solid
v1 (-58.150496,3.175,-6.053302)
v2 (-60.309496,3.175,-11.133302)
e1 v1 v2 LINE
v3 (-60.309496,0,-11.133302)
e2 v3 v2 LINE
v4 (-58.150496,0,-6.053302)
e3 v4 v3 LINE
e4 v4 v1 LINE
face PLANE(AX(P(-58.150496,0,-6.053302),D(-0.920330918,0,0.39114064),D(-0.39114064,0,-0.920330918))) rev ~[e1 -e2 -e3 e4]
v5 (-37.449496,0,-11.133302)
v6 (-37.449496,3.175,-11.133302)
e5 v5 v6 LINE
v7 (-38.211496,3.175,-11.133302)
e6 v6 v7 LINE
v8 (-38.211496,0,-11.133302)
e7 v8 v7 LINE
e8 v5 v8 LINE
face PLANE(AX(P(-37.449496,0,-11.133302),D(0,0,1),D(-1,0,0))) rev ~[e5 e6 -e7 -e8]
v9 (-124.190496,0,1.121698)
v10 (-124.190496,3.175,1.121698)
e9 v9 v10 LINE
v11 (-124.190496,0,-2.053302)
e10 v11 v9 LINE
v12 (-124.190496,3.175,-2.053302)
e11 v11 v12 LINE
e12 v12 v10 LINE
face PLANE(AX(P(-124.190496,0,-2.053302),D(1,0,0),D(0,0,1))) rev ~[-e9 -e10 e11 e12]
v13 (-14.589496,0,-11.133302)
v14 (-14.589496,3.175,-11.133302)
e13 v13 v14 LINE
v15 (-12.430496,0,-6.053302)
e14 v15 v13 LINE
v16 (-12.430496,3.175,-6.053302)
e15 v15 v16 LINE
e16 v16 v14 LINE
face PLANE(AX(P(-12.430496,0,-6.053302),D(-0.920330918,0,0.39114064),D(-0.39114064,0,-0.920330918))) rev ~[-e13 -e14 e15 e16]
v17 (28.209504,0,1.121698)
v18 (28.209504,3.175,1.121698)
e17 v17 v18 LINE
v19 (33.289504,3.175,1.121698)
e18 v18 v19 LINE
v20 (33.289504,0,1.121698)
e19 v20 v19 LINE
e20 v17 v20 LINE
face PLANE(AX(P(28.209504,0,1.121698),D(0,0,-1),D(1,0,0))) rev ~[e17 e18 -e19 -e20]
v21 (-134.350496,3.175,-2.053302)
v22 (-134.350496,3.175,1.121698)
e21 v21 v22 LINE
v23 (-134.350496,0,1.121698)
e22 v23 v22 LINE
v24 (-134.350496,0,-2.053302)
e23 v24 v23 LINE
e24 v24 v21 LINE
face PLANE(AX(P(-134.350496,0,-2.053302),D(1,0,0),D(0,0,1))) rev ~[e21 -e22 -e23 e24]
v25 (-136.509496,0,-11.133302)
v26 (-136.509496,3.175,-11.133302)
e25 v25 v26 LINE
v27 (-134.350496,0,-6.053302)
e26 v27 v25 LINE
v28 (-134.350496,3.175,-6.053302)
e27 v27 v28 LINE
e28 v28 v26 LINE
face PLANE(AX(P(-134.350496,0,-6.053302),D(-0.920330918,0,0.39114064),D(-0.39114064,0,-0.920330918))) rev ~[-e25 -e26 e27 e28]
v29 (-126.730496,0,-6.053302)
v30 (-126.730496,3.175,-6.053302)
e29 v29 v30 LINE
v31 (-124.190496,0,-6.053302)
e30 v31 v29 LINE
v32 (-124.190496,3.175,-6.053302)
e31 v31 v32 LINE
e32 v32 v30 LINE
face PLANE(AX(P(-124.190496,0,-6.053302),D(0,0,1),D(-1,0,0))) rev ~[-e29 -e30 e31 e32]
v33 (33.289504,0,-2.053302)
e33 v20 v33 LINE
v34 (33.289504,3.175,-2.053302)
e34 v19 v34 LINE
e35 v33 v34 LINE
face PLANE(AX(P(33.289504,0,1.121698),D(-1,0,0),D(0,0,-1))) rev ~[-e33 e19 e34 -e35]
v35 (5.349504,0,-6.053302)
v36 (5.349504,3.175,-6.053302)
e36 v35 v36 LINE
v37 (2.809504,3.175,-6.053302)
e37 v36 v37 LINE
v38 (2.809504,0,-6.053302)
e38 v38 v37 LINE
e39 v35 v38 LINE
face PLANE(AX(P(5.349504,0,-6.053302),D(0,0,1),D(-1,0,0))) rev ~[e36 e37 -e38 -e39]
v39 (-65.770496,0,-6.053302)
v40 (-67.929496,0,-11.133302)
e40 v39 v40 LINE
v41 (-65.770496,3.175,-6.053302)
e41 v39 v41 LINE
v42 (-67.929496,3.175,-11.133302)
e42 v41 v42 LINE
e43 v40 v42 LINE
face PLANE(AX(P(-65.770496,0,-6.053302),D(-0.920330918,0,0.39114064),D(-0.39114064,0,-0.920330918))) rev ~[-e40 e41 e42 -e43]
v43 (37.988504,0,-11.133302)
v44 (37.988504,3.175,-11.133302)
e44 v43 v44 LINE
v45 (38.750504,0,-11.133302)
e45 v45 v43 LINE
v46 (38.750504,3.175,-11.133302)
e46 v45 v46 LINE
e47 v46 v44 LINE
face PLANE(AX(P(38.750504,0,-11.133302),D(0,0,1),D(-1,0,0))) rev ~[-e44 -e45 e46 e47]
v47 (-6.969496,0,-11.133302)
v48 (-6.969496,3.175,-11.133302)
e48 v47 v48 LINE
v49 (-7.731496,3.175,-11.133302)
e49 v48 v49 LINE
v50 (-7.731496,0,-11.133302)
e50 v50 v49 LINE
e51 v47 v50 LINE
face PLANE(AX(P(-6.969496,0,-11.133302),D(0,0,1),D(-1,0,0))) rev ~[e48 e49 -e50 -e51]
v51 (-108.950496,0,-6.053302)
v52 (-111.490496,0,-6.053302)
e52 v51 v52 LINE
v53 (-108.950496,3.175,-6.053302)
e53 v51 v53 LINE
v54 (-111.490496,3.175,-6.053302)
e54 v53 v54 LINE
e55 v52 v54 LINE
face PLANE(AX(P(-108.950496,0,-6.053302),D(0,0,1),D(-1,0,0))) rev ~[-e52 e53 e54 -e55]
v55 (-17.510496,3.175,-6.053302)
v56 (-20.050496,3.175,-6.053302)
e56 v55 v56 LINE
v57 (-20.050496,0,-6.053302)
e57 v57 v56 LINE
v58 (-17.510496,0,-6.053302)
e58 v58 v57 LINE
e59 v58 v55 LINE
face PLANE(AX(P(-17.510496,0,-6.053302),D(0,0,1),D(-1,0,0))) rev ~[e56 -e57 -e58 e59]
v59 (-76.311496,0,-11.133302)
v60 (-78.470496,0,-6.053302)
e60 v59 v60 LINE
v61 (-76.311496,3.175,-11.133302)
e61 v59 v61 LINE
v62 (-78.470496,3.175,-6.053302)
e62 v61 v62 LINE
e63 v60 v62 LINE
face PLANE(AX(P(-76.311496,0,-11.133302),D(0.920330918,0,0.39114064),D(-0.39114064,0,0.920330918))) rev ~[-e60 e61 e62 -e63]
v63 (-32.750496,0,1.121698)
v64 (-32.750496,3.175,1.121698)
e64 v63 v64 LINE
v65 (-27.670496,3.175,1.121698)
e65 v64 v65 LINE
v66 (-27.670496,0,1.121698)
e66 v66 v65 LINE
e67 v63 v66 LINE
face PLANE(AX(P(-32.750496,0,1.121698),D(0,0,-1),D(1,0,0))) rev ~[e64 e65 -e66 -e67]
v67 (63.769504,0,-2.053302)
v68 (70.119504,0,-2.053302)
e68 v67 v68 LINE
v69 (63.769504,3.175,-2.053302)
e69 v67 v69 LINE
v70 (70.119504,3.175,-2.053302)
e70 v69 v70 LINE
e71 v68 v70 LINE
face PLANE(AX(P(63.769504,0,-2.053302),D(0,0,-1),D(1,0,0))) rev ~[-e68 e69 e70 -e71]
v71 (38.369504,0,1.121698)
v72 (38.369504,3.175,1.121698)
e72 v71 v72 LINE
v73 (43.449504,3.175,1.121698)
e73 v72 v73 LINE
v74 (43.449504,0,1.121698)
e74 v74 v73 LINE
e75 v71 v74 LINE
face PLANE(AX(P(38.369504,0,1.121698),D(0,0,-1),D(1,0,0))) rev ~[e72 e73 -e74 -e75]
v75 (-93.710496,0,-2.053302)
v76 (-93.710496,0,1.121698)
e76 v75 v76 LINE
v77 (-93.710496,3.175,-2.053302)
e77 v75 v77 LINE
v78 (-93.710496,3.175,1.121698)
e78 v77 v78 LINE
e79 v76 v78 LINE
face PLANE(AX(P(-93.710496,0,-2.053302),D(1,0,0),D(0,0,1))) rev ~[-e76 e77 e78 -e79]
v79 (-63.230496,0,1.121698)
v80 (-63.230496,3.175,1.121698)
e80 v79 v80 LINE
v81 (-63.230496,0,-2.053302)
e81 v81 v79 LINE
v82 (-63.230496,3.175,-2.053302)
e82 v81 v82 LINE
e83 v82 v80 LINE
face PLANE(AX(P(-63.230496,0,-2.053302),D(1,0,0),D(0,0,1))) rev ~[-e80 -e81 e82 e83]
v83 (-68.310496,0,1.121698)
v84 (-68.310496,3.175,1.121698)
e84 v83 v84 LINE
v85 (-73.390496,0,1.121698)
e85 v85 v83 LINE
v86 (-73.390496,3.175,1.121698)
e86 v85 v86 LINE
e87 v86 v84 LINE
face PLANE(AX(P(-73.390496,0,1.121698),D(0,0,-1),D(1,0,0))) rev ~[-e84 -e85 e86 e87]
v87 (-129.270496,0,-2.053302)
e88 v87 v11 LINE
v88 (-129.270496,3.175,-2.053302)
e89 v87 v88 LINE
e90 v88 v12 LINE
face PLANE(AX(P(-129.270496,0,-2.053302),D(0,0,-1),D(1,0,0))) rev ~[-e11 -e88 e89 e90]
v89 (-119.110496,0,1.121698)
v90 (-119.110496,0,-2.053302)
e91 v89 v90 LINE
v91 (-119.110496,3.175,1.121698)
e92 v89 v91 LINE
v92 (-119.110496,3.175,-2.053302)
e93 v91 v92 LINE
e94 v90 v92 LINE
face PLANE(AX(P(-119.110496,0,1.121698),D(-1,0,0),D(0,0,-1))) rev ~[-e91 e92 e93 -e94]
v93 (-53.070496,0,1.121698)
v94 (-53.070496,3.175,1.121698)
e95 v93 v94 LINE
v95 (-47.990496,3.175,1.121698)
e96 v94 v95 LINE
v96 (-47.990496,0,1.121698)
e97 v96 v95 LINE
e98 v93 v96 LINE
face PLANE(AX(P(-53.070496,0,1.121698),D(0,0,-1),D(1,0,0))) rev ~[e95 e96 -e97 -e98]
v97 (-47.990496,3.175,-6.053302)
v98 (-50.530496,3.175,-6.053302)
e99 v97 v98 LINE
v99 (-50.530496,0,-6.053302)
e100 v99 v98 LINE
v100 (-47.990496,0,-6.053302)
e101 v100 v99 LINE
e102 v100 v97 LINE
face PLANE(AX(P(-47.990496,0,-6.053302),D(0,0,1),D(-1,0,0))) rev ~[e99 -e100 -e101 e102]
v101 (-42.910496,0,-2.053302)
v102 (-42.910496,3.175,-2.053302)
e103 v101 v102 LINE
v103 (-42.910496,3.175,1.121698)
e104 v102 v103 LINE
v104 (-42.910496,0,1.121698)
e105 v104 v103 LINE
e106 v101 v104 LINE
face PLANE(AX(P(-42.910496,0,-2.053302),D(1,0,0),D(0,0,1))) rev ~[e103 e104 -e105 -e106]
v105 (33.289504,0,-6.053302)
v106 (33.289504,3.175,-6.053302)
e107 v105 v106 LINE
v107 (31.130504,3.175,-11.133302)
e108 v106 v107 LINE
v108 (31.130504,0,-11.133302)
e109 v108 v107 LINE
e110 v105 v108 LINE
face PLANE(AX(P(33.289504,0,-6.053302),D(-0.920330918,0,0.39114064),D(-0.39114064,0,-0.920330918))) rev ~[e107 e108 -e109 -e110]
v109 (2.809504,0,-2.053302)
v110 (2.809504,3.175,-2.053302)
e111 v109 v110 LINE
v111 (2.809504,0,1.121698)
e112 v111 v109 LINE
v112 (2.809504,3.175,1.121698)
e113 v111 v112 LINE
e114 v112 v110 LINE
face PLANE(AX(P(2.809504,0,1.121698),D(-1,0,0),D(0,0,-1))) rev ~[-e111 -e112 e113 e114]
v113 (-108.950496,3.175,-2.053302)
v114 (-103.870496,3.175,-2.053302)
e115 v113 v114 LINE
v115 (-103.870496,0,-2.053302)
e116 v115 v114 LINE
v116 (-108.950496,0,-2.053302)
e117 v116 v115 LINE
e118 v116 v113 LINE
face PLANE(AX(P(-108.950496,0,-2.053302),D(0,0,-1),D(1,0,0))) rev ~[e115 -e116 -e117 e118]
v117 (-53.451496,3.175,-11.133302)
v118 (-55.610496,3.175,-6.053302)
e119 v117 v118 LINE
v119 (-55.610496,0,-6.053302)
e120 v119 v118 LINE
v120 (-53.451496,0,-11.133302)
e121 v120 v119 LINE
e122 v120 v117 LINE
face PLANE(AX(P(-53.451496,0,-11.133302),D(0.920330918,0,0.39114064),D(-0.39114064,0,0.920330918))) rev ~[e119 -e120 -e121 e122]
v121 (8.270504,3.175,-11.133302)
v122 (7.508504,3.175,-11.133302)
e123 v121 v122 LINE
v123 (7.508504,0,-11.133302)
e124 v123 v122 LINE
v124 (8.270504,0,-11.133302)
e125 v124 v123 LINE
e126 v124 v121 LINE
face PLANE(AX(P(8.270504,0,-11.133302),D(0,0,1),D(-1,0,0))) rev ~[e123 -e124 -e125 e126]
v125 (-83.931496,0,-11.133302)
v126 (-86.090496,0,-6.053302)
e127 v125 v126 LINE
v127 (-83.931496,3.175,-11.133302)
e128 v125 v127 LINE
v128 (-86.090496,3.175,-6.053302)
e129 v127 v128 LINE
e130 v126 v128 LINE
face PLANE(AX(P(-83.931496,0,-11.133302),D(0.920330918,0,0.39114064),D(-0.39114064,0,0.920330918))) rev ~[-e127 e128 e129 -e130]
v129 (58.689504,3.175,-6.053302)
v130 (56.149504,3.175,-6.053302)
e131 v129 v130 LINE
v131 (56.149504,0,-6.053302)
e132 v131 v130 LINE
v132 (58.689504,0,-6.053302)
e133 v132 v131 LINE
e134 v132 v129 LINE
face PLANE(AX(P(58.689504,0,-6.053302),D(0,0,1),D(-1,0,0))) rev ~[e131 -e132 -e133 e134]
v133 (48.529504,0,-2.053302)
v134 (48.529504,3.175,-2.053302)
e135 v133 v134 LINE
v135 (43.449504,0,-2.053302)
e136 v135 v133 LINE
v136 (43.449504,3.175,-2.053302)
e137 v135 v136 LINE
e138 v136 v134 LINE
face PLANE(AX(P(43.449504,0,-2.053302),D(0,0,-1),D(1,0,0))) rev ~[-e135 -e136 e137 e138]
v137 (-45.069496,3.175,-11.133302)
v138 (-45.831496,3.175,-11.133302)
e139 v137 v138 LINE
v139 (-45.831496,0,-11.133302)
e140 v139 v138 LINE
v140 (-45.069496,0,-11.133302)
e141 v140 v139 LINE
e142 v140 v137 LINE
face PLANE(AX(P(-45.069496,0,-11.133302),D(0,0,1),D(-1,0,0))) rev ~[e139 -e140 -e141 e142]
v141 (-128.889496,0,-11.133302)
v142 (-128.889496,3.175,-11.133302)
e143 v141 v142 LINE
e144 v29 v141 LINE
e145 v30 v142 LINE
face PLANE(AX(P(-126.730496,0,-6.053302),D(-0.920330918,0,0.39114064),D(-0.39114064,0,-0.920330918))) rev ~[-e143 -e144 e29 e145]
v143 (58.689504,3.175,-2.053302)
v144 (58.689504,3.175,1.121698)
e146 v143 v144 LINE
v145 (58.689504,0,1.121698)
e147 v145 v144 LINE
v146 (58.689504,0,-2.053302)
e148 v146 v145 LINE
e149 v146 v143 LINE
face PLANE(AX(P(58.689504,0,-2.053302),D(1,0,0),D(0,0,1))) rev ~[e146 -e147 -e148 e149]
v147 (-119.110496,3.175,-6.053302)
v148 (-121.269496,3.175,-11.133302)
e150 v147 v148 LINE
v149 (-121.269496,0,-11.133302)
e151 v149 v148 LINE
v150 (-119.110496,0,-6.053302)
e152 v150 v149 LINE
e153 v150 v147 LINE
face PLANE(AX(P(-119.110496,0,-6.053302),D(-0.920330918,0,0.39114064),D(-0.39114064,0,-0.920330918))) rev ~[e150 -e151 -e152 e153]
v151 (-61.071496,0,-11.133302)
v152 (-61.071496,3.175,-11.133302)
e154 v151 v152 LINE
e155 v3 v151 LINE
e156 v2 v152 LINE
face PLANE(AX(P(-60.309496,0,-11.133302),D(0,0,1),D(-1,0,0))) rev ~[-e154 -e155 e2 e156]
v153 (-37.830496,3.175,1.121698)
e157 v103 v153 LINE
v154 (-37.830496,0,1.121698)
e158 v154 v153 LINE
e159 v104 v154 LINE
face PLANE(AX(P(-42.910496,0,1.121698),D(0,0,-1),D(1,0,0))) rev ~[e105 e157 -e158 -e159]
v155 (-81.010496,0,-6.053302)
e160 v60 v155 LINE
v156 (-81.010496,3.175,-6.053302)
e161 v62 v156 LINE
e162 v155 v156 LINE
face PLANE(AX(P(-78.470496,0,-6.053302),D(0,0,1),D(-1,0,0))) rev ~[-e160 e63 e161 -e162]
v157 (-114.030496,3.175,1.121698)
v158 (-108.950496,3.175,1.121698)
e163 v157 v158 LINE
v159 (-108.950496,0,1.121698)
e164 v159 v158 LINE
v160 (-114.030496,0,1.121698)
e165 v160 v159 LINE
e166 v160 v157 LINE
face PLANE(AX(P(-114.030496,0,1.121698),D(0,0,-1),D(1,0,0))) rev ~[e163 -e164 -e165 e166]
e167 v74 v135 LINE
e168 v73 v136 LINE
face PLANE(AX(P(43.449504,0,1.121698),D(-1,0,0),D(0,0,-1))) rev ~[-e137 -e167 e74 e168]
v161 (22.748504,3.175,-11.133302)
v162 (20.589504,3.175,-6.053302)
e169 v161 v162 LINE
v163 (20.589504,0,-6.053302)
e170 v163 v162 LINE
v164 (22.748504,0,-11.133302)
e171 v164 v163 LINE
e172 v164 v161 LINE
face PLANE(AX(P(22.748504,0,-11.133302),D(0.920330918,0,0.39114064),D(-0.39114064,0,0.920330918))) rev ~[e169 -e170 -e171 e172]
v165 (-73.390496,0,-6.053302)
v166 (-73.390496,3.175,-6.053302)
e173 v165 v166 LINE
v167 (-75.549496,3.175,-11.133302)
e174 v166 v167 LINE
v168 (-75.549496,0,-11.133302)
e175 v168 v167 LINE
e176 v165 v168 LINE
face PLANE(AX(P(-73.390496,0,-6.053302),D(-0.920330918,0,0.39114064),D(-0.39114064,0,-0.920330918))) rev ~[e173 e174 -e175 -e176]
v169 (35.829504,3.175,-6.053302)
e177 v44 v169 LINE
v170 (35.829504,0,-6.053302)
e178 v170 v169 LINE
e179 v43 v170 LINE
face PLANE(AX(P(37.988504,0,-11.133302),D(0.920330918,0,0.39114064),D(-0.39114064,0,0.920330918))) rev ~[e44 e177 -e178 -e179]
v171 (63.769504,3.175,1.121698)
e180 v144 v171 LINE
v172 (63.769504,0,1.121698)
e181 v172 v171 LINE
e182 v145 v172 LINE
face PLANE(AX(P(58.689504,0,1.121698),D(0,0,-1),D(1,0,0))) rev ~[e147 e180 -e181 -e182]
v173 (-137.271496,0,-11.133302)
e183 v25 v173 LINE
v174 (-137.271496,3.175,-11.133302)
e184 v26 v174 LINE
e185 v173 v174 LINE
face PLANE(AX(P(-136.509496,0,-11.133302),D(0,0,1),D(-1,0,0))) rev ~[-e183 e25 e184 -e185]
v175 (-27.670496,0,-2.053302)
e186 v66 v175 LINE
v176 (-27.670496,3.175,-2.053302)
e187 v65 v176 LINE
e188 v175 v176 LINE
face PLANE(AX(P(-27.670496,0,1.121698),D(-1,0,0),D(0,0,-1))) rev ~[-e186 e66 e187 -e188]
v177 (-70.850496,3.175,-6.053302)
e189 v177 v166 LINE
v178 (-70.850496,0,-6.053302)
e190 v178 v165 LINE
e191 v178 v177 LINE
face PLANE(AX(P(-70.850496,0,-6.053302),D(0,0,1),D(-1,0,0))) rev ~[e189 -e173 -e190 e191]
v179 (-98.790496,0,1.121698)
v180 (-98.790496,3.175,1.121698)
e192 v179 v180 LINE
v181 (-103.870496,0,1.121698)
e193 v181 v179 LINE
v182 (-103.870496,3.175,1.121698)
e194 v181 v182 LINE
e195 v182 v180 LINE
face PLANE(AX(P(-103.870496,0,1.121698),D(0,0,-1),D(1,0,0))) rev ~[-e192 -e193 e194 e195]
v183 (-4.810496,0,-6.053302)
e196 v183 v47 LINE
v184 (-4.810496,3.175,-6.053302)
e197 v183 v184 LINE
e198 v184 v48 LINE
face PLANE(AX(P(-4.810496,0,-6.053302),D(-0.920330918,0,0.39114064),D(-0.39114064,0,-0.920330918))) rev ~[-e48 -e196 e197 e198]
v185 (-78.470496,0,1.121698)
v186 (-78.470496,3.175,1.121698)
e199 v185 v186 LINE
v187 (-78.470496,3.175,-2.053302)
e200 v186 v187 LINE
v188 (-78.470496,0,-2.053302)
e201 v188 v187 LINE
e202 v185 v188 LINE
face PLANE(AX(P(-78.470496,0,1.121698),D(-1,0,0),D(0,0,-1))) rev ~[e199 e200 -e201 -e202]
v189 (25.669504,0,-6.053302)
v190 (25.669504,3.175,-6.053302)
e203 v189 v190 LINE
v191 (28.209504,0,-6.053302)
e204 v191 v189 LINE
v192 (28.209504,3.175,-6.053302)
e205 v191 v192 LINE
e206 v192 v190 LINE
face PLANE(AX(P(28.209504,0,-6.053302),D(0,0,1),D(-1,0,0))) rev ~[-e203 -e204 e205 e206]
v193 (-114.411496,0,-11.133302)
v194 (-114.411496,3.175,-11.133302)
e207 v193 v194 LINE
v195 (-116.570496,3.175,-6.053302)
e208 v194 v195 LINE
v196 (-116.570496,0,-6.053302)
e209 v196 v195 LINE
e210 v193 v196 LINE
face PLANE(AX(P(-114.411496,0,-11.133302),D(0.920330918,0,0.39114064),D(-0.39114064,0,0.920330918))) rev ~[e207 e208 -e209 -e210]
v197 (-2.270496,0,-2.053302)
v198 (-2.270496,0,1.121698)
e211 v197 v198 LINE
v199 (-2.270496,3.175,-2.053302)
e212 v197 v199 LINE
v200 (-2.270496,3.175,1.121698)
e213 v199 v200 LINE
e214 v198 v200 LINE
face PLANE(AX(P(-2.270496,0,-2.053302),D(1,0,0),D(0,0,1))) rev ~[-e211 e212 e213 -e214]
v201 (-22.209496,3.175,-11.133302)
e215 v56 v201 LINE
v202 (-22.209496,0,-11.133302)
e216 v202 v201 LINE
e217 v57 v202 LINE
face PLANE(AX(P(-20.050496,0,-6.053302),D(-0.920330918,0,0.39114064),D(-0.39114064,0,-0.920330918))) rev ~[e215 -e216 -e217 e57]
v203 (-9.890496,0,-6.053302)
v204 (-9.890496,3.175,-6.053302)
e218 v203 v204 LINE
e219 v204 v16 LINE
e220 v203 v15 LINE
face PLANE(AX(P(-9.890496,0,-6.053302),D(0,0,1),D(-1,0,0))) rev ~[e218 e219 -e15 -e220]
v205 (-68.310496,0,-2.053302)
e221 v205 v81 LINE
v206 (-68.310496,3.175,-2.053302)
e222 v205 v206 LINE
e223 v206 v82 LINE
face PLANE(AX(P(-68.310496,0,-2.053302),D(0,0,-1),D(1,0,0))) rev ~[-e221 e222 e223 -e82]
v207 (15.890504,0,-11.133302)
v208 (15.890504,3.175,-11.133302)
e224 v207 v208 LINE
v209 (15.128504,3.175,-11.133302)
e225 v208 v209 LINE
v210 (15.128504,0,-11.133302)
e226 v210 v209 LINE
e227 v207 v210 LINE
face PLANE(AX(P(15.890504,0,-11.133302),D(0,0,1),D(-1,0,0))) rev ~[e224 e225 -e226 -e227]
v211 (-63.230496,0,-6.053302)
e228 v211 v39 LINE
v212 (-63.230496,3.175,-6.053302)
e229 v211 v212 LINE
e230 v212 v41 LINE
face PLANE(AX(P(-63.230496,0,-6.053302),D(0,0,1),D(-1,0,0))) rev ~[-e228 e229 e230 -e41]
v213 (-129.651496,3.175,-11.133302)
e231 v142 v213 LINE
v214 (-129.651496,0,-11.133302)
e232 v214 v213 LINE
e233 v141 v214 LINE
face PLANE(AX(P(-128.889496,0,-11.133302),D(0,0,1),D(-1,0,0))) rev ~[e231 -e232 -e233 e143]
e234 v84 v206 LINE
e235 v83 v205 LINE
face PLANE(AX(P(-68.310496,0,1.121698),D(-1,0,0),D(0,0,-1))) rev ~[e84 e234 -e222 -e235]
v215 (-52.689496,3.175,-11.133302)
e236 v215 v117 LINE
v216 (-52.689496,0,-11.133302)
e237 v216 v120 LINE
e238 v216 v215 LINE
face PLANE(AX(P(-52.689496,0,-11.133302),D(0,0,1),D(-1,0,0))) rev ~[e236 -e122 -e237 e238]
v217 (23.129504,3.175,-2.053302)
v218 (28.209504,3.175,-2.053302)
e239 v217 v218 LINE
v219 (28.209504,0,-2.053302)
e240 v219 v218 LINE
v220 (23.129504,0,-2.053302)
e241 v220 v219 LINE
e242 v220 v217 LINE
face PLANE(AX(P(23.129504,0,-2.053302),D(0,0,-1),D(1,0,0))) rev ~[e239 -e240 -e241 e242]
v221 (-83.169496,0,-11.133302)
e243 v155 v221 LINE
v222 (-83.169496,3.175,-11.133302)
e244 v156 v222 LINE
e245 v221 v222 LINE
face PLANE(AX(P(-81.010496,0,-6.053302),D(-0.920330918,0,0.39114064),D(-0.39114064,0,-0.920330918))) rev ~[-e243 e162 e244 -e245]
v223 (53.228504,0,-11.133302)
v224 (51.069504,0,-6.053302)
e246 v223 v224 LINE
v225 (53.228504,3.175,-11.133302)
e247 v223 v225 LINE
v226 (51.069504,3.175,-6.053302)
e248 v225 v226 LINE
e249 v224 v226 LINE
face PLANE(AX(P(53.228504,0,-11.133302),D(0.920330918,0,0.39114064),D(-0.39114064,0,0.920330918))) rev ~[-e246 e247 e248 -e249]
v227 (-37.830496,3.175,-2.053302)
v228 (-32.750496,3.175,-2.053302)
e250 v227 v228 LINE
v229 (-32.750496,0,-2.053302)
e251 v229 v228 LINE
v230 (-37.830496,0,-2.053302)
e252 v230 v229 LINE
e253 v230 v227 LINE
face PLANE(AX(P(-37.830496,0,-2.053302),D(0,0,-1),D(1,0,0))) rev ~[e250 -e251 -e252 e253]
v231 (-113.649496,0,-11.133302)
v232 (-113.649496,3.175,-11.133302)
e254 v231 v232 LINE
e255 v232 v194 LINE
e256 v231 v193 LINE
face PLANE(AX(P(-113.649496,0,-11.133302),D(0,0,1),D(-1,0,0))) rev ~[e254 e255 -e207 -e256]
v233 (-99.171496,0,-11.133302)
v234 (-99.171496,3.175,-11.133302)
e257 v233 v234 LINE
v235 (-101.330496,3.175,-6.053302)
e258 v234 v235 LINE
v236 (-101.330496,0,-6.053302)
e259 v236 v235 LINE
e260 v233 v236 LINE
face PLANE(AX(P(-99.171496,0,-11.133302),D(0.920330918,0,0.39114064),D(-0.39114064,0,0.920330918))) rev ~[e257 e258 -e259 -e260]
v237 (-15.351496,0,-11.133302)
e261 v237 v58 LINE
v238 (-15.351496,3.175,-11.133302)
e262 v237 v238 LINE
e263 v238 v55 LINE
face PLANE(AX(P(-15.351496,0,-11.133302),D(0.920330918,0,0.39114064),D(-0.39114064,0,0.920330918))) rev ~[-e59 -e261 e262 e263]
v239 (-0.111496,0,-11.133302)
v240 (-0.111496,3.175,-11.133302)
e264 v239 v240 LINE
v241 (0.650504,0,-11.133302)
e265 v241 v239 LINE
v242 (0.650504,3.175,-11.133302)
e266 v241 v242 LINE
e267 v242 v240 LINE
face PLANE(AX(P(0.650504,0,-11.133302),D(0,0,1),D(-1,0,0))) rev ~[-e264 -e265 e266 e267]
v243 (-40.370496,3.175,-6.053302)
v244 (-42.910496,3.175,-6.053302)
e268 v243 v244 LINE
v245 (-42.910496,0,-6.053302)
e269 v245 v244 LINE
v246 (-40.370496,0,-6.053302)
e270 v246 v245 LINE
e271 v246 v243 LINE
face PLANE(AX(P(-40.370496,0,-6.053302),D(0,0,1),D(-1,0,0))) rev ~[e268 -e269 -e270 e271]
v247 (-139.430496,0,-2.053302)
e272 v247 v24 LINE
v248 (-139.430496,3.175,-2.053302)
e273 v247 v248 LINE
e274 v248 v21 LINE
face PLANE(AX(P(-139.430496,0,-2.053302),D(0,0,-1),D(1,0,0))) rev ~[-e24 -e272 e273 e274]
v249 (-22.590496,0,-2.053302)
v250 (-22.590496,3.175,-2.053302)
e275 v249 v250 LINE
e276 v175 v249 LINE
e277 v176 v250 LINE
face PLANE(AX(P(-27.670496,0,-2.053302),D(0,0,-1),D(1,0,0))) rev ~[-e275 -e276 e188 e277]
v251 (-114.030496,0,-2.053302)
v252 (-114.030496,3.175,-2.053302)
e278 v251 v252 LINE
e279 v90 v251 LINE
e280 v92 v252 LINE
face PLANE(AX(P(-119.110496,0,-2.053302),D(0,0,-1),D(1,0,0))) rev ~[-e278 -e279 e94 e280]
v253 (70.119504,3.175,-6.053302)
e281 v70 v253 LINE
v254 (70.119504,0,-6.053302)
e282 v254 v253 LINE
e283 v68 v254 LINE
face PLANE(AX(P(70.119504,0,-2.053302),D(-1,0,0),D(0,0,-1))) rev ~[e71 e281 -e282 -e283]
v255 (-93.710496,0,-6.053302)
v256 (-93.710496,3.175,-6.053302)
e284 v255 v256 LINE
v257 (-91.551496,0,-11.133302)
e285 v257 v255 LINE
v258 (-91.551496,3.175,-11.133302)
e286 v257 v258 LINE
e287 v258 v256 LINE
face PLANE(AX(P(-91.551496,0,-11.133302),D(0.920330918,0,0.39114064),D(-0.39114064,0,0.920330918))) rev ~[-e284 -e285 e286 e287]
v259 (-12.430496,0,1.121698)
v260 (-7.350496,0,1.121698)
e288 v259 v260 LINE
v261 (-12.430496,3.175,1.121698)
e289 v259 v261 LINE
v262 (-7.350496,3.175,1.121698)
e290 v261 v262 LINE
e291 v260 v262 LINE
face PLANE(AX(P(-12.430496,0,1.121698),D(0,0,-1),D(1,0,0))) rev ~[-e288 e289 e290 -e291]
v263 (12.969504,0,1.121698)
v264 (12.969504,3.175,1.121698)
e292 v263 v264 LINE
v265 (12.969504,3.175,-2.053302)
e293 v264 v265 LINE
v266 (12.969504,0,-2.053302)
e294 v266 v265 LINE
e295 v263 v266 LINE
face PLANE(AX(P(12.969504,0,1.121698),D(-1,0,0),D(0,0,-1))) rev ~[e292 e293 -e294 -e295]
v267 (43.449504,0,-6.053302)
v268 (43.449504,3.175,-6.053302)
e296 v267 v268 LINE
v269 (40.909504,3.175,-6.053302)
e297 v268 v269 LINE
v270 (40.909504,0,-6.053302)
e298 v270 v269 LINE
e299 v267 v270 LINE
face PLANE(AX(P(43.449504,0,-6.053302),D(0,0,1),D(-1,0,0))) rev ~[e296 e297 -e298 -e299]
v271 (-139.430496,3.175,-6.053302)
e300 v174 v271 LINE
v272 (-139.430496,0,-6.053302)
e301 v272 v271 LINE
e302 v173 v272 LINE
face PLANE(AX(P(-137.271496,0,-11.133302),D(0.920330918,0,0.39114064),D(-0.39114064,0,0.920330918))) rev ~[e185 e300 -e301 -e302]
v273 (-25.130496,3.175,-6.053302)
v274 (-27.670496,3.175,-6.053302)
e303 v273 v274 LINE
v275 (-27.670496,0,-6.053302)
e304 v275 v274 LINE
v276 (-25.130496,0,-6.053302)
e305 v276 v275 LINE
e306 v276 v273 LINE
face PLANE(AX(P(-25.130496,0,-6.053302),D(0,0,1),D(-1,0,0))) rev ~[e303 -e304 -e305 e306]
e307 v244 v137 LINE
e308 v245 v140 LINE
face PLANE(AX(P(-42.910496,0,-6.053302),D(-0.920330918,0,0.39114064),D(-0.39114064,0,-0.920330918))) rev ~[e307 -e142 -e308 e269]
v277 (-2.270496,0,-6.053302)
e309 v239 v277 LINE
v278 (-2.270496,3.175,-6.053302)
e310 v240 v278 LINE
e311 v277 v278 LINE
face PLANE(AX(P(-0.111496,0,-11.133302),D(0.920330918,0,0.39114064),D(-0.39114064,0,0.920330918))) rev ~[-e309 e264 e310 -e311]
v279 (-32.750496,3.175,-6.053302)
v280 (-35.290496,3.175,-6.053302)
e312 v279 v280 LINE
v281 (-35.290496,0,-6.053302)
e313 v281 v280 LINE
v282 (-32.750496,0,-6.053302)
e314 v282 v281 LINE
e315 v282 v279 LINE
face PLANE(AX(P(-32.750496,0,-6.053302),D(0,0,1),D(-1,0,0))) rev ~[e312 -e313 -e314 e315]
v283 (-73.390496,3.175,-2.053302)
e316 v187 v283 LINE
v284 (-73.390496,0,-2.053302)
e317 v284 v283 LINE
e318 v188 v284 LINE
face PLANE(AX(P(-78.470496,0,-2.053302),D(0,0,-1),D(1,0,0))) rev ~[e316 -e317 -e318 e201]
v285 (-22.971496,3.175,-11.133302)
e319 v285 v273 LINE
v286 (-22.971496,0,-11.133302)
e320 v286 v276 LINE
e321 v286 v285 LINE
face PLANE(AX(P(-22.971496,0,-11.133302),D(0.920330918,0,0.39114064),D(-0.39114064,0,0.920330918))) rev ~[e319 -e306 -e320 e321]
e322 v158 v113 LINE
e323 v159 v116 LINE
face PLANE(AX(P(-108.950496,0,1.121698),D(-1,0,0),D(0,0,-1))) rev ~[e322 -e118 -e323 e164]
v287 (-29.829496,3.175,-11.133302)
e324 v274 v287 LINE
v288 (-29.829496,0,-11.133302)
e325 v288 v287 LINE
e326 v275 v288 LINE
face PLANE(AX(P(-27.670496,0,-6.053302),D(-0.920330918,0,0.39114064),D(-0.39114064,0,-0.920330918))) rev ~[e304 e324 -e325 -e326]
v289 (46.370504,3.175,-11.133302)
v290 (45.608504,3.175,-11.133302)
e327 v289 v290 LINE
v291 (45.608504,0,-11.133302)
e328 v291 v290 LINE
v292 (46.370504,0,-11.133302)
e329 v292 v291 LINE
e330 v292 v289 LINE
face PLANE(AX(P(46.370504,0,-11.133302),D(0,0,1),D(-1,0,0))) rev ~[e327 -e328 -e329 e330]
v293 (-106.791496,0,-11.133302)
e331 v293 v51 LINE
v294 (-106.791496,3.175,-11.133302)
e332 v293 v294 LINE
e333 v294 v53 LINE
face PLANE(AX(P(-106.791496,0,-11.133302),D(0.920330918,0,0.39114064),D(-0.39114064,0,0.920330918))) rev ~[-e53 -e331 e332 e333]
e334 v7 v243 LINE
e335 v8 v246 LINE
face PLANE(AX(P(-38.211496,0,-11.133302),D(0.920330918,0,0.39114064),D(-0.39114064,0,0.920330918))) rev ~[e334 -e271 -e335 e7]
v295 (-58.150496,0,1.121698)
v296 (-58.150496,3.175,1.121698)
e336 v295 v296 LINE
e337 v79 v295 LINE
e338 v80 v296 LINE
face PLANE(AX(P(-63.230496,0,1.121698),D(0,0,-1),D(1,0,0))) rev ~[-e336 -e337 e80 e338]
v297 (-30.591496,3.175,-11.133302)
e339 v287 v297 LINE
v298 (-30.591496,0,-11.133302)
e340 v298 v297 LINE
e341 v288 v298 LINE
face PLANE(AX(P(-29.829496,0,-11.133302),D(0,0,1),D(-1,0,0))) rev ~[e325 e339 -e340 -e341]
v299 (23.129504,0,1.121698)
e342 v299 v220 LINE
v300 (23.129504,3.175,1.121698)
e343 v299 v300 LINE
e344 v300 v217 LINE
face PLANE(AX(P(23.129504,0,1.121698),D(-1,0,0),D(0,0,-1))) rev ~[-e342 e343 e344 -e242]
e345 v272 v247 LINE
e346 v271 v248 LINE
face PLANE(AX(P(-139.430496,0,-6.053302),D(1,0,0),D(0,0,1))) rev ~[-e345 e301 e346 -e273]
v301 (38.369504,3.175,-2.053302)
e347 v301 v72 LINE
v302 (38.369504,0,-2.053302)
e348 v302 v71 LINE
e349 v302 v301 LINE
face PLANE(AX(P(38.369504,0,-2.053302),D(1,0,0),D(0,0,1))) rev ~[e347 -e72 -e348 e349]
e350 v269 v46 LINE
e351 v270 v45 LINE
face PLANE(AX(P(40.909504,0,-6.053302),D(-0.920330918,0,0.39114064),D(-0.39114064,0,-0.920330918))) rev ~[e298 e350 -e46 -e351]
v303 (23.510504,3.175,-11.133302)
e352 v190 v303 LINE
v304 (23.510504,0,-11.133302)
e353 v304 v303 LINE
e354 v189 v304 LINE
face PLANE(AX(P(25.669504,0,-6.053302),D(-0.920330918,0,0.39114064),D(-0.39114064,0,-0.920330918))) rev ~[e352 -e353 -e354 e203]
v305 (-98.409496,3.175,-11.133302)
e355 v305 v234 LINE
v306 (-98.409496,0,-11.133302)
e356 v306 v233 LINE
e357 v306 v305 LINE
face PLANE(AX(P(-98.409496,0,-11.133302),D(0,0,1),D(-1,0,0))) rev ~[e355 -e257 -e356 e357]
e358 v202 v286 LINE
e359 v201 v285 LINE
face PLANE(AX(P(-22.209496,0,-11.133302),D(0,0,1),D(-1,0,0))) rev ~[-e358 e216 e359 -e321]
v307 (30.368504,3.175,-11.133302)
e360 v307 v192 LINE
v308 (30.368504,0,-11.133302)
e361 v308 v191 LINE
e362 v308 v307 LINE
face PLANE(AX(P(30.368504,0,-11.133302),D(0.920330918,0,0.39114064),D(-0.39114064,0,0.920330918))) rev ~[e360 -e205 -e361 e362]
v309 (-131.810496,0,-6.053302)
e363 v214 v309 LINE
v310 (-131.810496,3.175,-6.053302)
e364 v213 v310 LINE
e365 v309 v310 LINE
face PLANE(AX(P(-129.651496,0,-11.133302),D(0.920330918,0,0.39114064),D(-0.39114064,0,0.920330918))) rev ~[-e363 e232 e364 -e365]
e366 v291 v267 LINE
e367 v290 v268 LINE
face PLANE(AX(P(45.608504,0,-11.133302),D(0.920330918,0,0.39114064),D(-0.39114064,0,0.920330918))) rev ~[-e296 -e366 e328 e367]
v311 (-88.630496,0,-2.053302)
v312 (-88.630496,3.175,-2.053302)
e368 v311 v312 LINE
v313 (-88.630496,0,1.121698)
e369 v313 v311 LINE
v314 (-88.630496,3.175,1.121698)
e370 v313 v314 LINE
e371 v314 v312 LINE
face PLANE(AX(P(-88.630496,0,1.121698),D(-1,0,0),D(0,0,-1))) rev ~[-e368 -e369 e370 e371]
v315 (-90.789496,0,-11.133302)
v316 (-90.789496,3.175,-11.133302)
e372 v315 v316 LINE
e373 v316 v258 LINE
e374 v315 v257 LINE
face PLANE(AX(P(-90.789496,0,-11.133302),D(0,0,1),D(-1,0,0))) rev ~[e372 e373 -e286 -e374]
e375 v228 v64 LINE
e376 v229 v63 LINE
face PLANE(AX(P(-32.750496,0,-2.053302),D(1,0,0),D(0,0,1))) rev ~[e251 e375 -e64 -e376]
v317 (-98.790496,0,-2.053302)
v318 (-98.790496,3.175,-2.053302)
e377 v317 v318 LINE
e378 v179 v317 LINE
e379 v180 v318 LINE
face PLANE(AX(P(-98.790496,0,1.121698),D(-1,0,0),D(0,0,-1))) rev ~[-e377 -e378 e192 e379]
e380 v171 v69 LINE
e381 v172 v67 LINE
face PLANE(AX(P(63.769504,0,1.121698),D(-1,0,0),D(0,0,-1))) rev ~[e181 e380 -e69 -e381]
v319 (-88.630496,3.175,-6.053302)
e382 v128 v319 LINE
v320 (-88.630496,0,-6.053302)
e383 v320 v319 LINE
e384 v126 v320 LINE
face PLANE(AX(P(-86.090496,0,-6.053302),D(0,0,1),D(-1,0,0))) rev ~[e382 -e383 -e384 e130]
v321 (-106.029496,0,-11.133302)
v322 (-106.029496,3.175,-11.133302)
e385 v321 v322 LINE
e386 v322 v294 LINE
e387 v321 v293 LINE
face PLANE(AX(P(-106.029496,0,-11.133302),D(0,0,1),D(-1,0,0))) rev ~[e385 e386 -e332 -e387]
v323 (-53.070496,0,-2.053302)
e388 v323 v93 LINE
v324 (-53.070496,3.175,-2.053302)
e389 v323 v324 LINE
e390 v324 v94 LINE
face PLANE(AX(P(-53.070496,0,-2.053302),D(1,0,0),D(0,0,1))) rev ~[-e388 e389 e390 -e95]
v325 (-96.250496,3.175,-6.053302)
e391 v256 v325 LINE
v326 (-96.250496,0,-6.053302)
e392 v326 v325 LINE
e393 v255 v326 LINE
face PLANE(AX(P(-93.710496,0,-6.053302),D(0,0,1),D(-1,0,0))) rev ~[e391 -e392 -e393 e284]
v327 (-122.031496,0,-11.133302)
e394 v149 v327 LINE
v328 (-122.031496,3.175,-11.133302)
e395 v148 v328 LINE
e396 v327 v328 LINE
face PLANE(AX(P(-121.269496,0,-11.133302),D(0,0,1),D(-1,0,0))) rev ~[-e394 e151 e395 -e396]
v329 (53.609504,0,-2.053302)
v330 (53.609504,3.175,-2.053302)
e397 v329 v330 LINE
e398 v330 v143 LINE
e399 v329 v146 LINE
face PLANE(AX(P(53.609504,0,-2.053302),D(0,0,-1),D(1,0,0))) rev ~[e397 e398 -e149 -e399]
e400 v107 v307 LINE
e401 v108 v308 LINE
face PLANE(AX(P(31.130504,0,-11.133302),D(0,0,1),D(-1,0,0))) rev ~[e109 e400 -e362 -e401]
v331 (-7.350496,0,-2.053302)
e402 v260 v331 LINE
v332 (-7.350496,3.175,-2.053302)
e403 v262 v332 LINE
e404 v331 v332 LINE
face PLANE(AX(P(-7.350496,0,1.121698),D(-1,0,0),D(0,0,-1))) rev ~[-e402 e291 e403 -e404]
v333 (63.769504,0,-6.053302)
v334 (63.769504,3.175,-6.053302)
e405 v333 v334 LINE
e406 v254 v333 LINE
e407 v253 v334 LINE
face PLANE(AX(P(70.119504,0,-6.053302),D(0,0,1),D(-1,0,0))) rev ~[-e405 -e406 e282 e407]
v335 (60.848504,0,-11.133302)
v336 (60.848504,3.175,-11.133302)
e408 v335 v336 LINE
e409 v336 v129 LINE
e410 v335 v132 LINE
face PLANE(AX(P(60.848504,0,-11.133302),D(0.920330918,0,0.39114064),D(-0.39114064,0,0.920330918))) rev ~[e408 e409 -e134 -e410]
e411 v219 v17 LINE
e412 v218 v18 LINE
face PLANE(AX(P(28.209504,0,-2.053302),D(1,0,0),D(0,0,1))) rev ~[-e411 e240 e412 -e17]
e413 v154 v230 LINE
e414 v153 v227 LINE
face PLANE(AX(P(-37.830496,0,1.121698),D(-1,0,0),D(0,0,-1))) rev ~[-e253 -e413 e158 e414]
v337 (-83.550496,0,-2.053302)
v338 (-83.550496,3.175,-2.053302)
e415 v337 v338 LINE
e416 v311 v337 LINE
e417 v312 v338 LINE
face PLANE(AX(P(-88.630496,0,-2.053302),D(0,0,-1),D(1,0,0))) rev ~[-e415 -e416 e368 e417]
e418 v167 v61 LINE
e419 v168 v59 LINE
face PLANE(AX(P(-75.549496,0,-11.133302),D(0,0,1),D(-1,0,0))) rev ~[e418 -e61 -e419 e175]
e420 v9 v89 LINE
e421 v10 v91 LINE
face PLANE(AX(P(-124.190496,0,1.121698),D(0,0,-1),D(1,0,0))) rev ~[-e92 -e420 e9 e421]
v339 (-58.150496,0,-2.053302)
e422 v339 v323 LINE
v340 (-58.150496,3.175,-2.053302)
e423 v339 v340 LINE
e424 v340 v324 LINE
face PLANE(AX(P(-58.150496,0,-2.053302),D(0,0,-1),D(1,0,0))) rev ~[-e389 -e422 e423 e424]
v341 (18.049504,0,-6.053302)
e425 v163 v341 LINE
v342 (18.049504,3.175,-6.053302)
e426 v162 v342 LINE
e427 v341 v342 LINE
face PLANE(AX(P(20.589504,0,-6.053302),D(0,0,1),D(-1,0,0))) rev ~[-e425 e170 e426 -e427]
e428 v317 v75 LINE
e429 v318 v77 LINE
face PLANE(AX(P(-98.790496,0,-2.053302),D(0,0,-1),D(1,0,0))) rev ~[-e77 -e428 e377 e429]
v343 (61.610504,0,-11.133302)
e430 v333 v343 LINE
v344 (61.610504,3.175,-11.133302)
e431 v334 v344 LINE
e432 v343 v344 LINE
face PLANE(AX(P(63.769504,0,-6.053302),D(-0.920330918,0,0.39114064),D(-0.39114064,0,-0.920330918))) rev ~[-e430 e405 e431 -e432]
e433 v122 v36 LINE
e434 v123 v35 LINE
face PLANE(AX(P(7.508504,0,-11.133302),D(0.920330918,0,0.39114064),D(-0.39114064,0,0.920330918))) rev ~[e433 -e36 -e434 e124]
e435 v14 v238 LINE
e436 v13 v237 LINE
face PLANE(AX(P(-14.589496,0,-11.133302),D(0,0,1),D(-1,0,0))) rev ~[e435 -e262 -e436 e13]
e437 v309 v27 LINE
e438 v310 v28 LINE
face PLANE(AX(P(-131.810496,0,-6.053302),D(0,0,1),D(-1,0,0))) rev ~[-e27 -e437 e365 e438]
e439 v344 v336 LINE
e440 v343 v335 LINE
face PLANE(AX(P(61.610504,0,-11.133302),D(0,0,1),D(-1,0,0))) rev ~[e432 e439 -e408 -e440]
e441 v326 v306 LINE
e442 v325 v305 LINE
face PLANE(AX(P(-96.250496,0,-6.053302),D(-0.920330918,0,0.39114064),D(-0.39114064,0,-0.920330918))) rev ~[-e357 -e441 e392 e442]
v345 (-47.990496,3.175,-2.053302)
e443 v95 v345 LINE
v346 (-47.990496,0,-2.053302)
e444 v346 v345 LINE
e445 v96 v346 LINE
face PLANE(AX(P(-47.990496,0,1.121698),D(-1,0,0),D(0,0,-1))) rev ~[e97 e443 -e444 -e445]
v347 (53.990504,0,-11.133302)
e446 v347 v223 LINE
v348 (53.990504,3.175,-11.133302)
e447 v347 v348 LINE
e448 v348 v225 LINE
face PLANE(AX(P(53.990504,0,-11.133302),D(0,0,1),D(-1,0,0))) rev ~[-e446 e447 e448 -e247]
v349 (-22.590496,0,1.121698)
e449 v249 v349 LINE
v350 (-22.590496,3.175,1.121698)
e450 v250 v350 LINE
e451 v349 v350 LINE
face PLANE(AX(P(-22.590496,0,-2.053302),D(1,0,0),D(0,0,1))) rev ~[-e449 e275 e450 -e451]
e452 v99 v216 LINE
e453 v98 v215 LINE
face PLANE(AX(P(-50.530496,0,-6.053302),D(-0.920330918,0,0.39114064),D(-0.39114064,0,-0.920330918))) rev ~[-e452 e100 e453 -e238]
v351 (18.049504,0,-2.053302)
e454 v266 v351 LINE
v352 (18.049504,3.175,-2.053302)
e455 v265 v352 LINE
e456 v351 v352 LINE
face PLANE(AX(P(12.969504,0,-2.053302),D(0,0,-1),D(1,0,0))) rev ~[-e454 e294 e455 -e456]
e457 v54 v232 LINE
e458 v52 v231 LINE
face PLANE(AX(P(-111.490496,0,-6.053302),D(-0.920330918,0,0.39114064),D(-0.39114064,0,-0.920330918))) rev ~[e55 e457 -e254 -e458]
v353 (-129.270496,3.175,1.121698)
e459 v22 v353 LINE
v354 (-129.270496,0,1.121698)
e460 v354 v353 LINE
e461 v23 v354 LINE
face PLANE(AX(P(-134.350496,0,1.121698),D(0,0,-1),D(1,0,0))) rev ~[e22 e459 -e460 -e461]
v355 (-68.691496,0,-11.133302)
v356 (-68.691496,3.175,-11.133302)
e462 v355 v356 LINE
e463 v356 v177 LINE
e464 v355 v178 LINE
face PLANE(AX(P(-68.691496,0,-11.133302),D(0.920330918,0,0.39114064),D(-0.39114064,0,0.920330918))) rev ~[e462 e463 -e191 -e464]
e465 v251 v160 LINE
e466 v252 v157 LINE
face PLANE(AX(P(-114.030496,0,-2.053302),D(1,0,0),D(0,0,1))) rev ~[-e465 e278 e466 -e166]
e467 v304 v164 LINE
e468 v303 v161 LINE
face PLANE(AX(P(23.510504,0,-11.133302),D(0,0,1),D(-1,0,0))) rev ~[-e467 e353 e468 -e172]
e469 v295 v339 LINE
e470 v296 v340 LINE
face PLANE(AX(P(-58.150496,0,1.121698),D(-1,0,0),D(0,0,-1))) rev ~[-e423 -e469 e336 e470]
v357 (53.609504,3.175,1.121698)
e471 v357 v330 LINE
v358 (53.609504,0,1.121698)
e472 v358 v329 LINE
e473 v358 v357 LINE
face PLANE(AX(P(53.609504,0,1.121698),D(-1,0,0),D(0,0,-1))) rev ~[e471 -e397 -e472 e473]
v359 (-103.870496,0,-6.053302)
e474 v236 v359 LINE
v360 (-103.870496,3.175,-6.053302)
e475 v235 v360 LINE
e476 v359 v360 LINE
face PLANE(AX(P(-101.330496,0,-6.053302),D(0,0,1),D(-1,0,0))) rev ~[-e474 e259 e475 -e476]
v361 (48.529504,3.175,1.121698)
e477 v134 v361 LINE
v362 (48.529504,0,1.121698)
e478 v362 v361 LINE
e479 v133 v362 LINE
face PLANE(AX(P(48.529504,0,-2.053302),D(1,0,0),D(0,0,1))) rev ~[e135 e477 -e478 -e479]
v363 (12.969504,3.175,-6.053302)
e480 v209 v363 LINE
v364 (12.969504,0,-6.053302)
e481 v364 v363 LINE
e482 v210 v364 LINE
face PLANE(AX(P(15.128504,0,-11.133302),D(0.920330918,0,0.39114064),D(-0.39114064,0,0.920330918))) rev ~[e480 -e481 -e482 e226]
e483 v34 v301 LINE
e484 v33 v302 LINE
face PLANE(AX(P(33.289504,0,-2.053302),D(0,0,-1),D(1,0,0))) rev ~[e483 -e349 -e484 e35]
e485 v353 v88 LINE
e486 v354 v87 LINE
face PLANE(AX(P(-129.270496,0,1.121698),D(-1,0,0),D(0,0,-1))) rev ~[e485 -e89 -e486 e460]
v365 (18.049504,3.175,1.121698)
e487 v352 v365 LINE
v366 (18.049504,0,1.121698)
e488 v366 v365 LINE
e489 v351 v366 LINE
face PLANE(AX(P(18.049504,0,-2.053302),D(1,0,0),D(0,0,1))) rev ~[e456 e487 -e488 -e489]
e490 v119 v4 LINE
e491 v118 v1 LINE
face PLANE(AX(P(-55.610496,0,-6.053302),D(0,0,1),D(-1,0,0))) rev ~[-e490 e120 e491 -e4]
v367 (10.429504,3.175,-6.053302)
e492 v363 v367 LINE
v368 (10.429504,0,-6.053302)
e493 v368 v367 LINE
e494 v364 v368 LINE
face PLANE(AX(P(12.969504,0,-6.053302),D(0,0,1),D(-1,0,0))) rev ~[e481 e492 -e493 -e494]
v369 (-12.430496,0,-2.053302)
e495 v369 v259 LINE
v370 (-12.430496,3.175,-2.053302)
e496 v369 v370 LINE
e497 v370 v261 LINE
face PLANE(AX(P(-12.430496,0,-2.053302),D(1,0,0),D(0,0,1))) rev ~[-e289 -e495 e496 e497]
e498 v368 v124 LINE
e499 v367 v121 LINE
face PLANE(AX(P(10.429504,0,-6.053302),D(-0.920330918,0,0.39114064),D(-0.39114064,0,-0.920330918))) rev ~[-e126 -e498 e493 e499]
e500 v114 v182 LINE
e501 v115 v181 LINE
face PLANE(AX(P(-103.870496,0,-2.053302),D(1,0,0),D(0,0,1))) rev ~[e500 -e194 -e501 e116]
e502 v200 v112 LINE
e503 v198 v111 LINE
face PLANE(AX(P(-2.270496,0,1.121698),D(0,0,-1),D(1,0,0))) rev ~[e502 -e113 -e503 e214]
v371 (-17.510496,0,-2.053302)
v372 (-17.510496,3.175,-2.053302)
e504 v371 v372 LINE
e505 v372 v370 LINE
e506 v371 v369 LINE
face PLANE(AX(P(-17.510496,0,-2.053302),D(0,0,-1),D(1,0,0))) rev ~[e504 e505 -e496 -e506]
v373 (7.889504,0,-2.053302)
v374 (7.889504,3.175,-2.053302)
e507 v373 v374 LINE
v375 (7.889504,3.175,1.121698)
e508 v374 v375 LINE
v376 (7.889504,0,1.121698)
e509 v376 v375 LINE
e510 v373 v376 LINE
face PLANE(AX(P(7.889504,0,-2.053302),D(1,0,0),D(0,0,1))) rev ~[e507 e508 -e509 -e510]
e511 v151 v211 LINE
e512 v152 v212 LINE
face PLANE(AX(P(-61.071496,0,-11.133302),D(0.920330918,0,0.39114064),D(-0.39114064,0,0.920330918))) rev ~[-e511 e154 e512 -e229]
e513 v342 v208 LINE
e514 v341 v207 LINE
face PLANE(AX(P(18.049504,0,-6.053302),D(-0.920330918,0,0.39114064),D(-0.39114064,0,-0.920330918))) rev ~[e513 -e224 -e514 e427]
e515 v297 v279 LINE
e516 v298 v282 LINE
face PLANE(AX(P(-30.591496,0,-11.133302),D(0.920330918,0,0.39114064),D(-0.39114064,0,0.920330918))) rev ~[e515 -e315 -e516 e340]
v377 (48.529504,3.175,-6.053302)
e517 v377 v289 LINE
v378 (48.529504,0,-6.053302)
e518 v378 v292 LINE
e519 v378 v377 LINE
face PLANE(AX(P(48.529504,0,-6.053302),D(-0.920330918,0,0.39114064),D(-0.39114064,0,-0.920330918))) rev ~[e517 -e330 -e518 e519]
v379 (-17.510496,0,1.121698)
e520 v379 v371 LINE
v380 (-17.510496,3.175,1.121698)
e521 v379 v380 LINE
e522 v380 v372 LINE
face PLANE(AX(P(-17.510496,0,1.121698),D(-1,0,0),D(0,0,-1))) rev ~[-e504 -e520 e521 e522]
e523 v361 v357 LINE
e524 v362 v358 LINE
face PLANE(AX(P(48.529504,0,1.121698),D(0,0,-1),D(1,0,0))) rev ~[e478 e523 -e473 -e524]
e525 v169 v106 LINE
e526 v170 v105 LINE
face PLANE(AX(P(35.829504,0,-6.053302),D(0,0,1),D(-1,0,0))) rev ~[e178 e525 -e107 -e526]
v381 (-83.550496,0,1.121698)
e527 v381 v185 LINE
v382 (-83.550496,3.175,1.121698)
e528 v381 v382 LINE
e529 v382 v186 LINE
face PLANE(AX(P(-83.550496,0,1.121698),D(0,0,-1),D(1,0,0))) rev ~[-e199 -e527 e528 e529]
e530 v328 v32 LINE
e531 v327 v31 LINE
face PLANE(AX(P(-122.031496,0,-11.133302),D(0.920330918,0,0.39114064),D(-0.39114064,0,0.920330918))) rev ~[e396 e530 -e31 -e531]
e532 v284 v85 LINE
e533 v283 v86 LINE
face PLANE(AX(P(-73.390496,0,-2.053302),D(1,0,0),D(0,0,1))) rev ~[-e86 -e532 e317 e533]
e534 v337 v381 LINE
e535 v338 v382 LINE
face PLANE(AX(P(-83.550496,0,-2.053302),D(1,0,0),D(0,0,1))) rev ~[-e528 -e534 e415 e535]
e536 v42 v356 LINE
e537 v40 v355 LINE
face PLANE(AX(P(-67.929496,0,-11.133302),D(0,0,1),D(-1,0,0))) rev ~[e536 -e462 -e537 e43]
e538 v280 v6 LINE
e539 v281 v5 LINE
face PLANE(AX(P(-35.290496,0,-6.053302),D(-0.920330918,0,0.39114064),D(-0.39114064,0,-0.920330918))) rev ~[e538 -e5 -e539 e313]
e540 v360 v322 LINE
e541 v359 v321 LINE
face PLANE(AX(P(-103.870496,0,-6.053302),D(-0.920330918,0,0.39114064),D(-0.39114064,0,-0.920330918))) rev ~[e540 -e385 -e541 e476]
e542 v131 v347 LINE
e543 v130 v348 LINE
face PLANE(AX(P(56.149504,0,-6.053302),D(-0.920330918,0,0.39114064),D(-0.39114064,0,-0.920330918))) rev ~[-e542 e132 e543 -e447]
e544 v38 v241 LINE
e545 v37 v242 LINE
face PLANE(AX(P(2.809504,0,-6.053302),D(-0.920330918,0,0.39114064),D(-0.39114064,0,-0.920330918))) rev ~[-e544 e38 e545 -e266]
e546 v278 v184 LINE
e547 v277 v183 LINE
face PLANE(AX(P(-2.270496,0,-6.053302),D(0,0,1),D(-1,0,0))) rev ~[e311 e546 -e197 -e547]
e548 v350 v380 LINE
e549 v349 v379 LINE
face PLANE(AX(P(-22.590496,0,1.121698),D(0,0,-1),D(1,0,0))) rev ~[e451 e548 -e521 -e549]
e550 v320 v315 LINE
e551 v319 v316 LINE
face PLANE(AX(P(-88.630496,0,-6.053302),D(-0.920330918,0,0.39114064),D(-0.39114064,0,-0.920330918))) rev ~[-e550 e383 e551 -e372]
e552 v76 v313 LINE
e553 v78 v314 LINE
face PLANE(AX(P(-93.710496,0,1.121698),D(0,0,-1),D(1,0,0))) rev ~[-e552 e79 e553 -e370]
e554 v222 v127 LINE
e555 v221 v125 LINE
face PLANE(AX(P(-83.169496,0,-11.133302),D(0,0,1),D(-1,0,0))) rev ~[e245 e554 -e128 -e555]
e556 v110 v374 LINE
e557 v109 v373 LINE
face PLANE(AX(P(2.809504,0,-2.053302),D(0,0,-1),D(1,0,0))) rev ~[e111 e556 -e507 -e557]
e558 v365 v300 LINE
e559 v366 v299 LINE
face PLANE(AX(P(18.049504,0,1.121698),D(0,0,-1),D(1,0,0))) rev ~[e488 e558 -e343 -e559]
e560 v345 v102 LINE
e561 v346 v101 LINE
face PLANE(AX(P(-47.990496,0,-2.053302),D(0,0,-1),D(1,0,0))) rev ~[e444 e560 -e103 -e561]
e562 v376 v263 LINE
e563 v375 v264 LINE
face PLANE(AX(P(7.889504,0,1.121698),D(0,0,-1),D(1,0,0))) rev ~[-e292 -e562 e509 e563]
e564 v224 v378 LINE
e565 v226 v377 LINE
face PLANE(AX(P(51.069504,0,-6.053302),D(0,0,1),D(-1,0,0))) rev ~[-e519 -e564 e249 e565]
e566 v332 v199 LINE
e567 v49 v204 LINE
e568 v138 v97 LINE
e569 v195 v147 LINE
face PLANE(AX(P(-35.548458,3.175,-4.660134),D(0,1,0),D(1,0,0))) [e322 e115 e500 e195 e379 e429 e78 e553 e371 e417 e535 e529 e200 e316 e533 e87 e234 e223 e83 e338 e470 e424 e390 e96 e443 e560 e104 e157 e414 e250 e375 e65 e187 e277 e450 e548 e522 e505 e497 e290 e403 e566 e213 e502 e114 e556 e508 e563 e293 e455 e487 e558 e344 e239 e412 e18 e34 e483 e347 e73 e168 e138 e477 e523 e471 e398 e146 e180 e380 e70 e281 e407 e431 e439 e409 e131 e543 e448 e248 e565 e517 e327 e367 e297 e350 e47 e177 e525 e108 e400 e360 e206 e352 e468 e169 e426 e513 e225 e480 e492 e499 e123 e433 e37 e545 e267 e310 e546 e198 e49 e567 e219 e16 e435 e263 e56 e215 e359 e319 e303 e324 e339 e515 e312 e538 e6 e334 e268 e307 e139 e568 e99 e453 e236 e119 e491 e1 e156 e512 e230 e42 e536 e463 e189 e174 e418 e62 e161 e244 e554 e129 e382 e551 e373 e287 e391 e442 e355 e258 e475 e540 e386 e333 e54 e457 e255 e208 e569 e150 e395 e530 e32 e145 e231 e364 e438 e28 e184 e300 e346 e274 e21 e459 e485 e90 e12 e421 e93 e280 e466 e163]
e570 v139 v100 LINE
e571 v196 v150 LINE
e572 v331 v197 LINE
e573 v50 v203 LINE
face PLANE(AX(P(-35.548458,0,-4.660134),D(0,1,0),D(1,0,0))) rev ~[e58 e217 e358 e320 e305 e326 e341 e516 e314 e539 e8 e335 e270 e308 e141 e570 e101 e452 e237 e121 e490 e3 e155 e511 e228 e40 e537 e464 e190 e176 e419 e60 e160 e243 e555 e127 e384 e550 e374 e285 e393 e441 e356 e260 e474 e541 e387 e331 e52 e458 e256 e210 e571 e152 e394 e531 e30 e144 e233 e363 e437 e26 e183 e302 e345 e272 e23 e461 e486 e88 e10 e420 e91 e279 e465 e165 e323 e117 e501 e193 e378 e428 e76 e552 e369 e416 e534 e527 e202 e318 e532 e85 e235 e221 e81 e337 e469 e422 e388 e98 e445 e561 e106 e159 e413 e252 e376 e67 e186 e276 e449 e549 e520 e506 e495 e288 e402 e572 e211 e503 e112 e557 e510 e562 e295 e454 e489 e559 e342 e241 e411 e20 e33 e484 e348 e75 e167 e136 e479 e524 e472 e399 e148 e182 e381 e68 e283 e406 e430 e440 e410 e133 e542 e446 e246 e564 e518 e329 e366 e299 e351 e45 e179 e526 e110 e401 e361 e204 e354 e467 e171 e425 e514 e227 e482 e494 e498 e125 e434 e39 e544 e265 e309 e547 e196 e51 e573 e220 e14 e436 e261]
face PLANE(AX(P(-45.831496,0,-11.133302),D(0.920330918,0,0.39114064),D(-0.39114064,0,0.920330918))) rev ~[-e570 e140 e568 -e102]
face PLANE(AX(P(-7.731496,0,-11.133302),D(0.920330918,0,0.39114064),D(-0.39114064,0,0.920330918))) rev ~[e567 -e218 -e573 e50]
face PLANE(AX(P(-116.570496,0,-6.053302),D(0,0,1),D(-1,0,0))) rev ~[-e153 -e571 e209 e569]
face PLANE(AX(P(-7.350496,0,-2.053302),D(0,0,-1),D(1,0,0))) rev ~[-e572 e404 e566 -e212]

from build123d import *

# Parameters (mm, degrees)
BOSS_EXTRUDE1_DEPTH = 3.175


with BuildPart() as part:
    # Sketch1 → Boss-Extrude1 (new body)
    with BuildSketch(Plane(origin=(0, 0, 0), x_dir=(1, 0, 0), z_dir=(0, 1, 0))):
        Polygon((-139.430495518, 6.053301935), (-139.430495518, 2.053301935), (-134.350495518, 2.053301935), (-134.350495518, -1.121698065), (-129.270495518, -1.121698065), (-129.270495518, 2.053301935), (-124.190495518, 2.053301935), (-124.190495518, -1.121698065), (-119.110495518, -1.121698065), (-119.110495518, 2.053301935), (-114.030495518, 2.053301935), (-114.030495518, -1.121698065), (-108.950495518, -1.121698065), (-108.950495518, 2.053301935), (-103.870495518, 2.053301935), (-103.870495518, -1.121698065), (-98.790495518, -1.121698065), (-98.790495518, 2.053301935), (-93.710495518, 2.053301935), (-93.710495518, -1.121698065), (-88.630495518, -1.121698065), (-88.630495518, 2.053301935), (-83.550495518, 2.053301935), (-83.550495518, -1.121698065), (-78.470495518, -1.121698065), (-78.470495518, 2.053301935), (-73.390495518, 2.053301935), (-73.390495518, -1.121698065), (-68.310495518, -1.121698065), (-68.310495518, 2.053301935), (-63.230495518, 2.053301935), (-63.230495518, -1.121698065), (-58.150495518, -1.121698065), (-58.150495518, 2.053301935), (-53.070495518, 2.053301935), (-53.070495518, -1.121698065), (-47.990495518, -1.121698065), (-47.990495518, 2.053301935), (-42.910495518, 2.053301935), (-42.910495518, -1.121698065), (-37.830495518, -1.121698065), (-37.830495518, 2.053301935), (-32.750495518, 2.053301935), (-32.750495518, -1.121698065), (-27.670495518, -1.121698065), (-27.670495518, 2.053301935), (-22.590495518, 2.053301935), (-22.590495518, -1.121698065), (-17.510495518, -1.121698065), (-17.510495518, 2.053301935), (-12.430495518, 2.053301935), (-12.430495518, -1.121698065), (-7.350495518, -1.121698065), (-7.350495518, 2.053301935), (-2.270495518, 2.053301935), (-2.270495518, -1.121698065), (2.809504482, -1.121698065), (2.809504482, 2.053301935), (7.889504482, 2.053301935), (7.889504482, -1.121698065), (12.969504482, -1.121698065), (12.969504482, 2.053301935), (18.049504482, 2.053301935), (18.049504482, -1.121698065), (23.129504482, -1.121698065), (23.129504482, 2.053301935), (28.209504482, 2.053301935), (28.209504482, -1.121698065), (33.289504482, -1.121698065), (33.289504482, 2.053301935), (38.369504482, 2.053301935), (38.369504482, -1.121698065), (43.449504482, -1.121698065), (43.449504482, 2.053301935), (48.529504482, 2.053301935), (48.529504482, -1.121698065), (53.609504482, -1.121698065), (53.609504482, 2.053301935), (58.689504482, 2.053301935), (58.689504482, -1.121698065), (63.769504482, -1.121698065), (63.769504482, 2.053301935), (70.119504482, 2.053301935), (70.119504482, 6.053301935), (66.309504482, 6.053301935), (63.769504482, 6.053301935), (61.610504482, 11.133301935), (60.848504482, 11.133301935), (58.689504482, 6.053301935), (56.149504482, 6.053301935), (53.990504482, 11.133301935), (53.228504482, 11.133301935), (51.069504482, 6.053301935), (48.529504482, 6.053301935), (46.370504482, 11.133301935), (45.608504482, 11.133301935), (43.449504482, 6.053301935), (40.909504482, 6.053301935), (38.750504482, 11.133301935), (37.988504482, 11.133301935), (35.829504482, 6.053301935), (33.289504482, 6.053301935), (31.130504482, 11.133301935), (30.368504482, 11.133301935), (28.209504482, 6.053301935), (25.669504482, 6.053301935), (23.510504482, 11.133301935), (22.748504482, 11.133301935), (20.589504482, 6.053301935), (18.049504482, 6.053301935), (15.890504482, 11.133301935), (15.128504482, 11.133301935), (12.969504482, 6.053301935), (10.429504482, 6.053301935), (8.270504482, 11.133301935), (7.508504482, 11.133301935), (5.349504482, 6.053301935), (2.809504482, 6.053301935), (0.650504482, 11.133301935), (-0.111495518, 11.133301935), (-2.270495518, 6.053301935), (-4.810495518, 6.053301935), (-6.969495518, 11.133301935), (-7.731495518, 11.133301935), (-9.890495518, 6.053301935), (-12.430495518, 6.053301935), (-14.589495518, 11.133301935), (-15.351495518, 11.133301935), (-17.510495518, 6.053301935), (-20.050495518, 6.053301935), (-22.209495518, 11.133301935), (-22.971495518, 11.133301935), (-25.130495518, 6.053301935), (-27.670495518, 6.053301935), (-29.829495518, 11.133301935), (-30.591495518, 11.133301935), (-32.750495518, 6.053301935), (-35.290495518, 6.053301935), (-37.449495518, 11.133301935), (-38.211495518, 11.133301935), (-40.370495518, 6.053301935), (-42.910495518, 6.053301935), (-45.069495518, 11.133301935), (-45.831495518, 11.133301935), (-47.990495518, 6.053301935), (-50.530495518, 6.053301935), (-52.689495518, 11.133301935), (-53.451495518, 11.133301935), (-55.610495518, 6.053301935), (-58.150495518, 6.053301935), (-60.309495518, 11.133301935), (-61.071495518, 11.133301935), (-63.230495518, 6.053301935), (-65.770495518, 6.053301935), (-67.929495518, 11.133301935), (-68.691495518, 11.133301935), (-70.850495518, 6.053301935), (-73.390495518, 6.053301935), (-75.549495518, 11.133301935), (-76.311495518, 11.133301935), (-78.470495518, 6.053301935), (-81.010495518, 6.053301935), (-83.169495518, 11.133301935), (-83.931495518, 11.133301935), (-86.090495518, 6.053301935), (-88.630495518, 6.053301935), (-90.789495518, 11.133301935), (-91.551495518, 11.133301935), (-93.710495518, 6.053301935), (-96.250495518, 6.053301935), (-98.409495518, 11.133301935), (-99.171495518, 11.133301935), (-101.330495518, 6.053301935), (-103.870495518, 6.053301935), (-106.029495518, 11.133301935), (-106.791495518, 11.133301935), (-108.950495518, 6.053301935), (-111.490495518, 6.053301935), (-113.649495518, 11.133301935), (-114.411495518, 11.133301935), (-116.570495518, 6.053301935), (-119.110495518, 6.053301935), (-121.269495518, 11.133301935), (-122.031495518, 11.133301935), (-124.190495518, 6.053301935), (-126.730495518, 6.053301935), (-128.889495518, 11.133301935), (-129.651495518, 11.133301935), (-131.810495518, 6.053301935), (-134.350495518, 6.053301935), (-136.509495518, 11.133301935), (-137.271495518, 11.133301935), align=None)
    extrude(amount=BOSS_EXTRUDE1_DEPTH)


solid = part.part
